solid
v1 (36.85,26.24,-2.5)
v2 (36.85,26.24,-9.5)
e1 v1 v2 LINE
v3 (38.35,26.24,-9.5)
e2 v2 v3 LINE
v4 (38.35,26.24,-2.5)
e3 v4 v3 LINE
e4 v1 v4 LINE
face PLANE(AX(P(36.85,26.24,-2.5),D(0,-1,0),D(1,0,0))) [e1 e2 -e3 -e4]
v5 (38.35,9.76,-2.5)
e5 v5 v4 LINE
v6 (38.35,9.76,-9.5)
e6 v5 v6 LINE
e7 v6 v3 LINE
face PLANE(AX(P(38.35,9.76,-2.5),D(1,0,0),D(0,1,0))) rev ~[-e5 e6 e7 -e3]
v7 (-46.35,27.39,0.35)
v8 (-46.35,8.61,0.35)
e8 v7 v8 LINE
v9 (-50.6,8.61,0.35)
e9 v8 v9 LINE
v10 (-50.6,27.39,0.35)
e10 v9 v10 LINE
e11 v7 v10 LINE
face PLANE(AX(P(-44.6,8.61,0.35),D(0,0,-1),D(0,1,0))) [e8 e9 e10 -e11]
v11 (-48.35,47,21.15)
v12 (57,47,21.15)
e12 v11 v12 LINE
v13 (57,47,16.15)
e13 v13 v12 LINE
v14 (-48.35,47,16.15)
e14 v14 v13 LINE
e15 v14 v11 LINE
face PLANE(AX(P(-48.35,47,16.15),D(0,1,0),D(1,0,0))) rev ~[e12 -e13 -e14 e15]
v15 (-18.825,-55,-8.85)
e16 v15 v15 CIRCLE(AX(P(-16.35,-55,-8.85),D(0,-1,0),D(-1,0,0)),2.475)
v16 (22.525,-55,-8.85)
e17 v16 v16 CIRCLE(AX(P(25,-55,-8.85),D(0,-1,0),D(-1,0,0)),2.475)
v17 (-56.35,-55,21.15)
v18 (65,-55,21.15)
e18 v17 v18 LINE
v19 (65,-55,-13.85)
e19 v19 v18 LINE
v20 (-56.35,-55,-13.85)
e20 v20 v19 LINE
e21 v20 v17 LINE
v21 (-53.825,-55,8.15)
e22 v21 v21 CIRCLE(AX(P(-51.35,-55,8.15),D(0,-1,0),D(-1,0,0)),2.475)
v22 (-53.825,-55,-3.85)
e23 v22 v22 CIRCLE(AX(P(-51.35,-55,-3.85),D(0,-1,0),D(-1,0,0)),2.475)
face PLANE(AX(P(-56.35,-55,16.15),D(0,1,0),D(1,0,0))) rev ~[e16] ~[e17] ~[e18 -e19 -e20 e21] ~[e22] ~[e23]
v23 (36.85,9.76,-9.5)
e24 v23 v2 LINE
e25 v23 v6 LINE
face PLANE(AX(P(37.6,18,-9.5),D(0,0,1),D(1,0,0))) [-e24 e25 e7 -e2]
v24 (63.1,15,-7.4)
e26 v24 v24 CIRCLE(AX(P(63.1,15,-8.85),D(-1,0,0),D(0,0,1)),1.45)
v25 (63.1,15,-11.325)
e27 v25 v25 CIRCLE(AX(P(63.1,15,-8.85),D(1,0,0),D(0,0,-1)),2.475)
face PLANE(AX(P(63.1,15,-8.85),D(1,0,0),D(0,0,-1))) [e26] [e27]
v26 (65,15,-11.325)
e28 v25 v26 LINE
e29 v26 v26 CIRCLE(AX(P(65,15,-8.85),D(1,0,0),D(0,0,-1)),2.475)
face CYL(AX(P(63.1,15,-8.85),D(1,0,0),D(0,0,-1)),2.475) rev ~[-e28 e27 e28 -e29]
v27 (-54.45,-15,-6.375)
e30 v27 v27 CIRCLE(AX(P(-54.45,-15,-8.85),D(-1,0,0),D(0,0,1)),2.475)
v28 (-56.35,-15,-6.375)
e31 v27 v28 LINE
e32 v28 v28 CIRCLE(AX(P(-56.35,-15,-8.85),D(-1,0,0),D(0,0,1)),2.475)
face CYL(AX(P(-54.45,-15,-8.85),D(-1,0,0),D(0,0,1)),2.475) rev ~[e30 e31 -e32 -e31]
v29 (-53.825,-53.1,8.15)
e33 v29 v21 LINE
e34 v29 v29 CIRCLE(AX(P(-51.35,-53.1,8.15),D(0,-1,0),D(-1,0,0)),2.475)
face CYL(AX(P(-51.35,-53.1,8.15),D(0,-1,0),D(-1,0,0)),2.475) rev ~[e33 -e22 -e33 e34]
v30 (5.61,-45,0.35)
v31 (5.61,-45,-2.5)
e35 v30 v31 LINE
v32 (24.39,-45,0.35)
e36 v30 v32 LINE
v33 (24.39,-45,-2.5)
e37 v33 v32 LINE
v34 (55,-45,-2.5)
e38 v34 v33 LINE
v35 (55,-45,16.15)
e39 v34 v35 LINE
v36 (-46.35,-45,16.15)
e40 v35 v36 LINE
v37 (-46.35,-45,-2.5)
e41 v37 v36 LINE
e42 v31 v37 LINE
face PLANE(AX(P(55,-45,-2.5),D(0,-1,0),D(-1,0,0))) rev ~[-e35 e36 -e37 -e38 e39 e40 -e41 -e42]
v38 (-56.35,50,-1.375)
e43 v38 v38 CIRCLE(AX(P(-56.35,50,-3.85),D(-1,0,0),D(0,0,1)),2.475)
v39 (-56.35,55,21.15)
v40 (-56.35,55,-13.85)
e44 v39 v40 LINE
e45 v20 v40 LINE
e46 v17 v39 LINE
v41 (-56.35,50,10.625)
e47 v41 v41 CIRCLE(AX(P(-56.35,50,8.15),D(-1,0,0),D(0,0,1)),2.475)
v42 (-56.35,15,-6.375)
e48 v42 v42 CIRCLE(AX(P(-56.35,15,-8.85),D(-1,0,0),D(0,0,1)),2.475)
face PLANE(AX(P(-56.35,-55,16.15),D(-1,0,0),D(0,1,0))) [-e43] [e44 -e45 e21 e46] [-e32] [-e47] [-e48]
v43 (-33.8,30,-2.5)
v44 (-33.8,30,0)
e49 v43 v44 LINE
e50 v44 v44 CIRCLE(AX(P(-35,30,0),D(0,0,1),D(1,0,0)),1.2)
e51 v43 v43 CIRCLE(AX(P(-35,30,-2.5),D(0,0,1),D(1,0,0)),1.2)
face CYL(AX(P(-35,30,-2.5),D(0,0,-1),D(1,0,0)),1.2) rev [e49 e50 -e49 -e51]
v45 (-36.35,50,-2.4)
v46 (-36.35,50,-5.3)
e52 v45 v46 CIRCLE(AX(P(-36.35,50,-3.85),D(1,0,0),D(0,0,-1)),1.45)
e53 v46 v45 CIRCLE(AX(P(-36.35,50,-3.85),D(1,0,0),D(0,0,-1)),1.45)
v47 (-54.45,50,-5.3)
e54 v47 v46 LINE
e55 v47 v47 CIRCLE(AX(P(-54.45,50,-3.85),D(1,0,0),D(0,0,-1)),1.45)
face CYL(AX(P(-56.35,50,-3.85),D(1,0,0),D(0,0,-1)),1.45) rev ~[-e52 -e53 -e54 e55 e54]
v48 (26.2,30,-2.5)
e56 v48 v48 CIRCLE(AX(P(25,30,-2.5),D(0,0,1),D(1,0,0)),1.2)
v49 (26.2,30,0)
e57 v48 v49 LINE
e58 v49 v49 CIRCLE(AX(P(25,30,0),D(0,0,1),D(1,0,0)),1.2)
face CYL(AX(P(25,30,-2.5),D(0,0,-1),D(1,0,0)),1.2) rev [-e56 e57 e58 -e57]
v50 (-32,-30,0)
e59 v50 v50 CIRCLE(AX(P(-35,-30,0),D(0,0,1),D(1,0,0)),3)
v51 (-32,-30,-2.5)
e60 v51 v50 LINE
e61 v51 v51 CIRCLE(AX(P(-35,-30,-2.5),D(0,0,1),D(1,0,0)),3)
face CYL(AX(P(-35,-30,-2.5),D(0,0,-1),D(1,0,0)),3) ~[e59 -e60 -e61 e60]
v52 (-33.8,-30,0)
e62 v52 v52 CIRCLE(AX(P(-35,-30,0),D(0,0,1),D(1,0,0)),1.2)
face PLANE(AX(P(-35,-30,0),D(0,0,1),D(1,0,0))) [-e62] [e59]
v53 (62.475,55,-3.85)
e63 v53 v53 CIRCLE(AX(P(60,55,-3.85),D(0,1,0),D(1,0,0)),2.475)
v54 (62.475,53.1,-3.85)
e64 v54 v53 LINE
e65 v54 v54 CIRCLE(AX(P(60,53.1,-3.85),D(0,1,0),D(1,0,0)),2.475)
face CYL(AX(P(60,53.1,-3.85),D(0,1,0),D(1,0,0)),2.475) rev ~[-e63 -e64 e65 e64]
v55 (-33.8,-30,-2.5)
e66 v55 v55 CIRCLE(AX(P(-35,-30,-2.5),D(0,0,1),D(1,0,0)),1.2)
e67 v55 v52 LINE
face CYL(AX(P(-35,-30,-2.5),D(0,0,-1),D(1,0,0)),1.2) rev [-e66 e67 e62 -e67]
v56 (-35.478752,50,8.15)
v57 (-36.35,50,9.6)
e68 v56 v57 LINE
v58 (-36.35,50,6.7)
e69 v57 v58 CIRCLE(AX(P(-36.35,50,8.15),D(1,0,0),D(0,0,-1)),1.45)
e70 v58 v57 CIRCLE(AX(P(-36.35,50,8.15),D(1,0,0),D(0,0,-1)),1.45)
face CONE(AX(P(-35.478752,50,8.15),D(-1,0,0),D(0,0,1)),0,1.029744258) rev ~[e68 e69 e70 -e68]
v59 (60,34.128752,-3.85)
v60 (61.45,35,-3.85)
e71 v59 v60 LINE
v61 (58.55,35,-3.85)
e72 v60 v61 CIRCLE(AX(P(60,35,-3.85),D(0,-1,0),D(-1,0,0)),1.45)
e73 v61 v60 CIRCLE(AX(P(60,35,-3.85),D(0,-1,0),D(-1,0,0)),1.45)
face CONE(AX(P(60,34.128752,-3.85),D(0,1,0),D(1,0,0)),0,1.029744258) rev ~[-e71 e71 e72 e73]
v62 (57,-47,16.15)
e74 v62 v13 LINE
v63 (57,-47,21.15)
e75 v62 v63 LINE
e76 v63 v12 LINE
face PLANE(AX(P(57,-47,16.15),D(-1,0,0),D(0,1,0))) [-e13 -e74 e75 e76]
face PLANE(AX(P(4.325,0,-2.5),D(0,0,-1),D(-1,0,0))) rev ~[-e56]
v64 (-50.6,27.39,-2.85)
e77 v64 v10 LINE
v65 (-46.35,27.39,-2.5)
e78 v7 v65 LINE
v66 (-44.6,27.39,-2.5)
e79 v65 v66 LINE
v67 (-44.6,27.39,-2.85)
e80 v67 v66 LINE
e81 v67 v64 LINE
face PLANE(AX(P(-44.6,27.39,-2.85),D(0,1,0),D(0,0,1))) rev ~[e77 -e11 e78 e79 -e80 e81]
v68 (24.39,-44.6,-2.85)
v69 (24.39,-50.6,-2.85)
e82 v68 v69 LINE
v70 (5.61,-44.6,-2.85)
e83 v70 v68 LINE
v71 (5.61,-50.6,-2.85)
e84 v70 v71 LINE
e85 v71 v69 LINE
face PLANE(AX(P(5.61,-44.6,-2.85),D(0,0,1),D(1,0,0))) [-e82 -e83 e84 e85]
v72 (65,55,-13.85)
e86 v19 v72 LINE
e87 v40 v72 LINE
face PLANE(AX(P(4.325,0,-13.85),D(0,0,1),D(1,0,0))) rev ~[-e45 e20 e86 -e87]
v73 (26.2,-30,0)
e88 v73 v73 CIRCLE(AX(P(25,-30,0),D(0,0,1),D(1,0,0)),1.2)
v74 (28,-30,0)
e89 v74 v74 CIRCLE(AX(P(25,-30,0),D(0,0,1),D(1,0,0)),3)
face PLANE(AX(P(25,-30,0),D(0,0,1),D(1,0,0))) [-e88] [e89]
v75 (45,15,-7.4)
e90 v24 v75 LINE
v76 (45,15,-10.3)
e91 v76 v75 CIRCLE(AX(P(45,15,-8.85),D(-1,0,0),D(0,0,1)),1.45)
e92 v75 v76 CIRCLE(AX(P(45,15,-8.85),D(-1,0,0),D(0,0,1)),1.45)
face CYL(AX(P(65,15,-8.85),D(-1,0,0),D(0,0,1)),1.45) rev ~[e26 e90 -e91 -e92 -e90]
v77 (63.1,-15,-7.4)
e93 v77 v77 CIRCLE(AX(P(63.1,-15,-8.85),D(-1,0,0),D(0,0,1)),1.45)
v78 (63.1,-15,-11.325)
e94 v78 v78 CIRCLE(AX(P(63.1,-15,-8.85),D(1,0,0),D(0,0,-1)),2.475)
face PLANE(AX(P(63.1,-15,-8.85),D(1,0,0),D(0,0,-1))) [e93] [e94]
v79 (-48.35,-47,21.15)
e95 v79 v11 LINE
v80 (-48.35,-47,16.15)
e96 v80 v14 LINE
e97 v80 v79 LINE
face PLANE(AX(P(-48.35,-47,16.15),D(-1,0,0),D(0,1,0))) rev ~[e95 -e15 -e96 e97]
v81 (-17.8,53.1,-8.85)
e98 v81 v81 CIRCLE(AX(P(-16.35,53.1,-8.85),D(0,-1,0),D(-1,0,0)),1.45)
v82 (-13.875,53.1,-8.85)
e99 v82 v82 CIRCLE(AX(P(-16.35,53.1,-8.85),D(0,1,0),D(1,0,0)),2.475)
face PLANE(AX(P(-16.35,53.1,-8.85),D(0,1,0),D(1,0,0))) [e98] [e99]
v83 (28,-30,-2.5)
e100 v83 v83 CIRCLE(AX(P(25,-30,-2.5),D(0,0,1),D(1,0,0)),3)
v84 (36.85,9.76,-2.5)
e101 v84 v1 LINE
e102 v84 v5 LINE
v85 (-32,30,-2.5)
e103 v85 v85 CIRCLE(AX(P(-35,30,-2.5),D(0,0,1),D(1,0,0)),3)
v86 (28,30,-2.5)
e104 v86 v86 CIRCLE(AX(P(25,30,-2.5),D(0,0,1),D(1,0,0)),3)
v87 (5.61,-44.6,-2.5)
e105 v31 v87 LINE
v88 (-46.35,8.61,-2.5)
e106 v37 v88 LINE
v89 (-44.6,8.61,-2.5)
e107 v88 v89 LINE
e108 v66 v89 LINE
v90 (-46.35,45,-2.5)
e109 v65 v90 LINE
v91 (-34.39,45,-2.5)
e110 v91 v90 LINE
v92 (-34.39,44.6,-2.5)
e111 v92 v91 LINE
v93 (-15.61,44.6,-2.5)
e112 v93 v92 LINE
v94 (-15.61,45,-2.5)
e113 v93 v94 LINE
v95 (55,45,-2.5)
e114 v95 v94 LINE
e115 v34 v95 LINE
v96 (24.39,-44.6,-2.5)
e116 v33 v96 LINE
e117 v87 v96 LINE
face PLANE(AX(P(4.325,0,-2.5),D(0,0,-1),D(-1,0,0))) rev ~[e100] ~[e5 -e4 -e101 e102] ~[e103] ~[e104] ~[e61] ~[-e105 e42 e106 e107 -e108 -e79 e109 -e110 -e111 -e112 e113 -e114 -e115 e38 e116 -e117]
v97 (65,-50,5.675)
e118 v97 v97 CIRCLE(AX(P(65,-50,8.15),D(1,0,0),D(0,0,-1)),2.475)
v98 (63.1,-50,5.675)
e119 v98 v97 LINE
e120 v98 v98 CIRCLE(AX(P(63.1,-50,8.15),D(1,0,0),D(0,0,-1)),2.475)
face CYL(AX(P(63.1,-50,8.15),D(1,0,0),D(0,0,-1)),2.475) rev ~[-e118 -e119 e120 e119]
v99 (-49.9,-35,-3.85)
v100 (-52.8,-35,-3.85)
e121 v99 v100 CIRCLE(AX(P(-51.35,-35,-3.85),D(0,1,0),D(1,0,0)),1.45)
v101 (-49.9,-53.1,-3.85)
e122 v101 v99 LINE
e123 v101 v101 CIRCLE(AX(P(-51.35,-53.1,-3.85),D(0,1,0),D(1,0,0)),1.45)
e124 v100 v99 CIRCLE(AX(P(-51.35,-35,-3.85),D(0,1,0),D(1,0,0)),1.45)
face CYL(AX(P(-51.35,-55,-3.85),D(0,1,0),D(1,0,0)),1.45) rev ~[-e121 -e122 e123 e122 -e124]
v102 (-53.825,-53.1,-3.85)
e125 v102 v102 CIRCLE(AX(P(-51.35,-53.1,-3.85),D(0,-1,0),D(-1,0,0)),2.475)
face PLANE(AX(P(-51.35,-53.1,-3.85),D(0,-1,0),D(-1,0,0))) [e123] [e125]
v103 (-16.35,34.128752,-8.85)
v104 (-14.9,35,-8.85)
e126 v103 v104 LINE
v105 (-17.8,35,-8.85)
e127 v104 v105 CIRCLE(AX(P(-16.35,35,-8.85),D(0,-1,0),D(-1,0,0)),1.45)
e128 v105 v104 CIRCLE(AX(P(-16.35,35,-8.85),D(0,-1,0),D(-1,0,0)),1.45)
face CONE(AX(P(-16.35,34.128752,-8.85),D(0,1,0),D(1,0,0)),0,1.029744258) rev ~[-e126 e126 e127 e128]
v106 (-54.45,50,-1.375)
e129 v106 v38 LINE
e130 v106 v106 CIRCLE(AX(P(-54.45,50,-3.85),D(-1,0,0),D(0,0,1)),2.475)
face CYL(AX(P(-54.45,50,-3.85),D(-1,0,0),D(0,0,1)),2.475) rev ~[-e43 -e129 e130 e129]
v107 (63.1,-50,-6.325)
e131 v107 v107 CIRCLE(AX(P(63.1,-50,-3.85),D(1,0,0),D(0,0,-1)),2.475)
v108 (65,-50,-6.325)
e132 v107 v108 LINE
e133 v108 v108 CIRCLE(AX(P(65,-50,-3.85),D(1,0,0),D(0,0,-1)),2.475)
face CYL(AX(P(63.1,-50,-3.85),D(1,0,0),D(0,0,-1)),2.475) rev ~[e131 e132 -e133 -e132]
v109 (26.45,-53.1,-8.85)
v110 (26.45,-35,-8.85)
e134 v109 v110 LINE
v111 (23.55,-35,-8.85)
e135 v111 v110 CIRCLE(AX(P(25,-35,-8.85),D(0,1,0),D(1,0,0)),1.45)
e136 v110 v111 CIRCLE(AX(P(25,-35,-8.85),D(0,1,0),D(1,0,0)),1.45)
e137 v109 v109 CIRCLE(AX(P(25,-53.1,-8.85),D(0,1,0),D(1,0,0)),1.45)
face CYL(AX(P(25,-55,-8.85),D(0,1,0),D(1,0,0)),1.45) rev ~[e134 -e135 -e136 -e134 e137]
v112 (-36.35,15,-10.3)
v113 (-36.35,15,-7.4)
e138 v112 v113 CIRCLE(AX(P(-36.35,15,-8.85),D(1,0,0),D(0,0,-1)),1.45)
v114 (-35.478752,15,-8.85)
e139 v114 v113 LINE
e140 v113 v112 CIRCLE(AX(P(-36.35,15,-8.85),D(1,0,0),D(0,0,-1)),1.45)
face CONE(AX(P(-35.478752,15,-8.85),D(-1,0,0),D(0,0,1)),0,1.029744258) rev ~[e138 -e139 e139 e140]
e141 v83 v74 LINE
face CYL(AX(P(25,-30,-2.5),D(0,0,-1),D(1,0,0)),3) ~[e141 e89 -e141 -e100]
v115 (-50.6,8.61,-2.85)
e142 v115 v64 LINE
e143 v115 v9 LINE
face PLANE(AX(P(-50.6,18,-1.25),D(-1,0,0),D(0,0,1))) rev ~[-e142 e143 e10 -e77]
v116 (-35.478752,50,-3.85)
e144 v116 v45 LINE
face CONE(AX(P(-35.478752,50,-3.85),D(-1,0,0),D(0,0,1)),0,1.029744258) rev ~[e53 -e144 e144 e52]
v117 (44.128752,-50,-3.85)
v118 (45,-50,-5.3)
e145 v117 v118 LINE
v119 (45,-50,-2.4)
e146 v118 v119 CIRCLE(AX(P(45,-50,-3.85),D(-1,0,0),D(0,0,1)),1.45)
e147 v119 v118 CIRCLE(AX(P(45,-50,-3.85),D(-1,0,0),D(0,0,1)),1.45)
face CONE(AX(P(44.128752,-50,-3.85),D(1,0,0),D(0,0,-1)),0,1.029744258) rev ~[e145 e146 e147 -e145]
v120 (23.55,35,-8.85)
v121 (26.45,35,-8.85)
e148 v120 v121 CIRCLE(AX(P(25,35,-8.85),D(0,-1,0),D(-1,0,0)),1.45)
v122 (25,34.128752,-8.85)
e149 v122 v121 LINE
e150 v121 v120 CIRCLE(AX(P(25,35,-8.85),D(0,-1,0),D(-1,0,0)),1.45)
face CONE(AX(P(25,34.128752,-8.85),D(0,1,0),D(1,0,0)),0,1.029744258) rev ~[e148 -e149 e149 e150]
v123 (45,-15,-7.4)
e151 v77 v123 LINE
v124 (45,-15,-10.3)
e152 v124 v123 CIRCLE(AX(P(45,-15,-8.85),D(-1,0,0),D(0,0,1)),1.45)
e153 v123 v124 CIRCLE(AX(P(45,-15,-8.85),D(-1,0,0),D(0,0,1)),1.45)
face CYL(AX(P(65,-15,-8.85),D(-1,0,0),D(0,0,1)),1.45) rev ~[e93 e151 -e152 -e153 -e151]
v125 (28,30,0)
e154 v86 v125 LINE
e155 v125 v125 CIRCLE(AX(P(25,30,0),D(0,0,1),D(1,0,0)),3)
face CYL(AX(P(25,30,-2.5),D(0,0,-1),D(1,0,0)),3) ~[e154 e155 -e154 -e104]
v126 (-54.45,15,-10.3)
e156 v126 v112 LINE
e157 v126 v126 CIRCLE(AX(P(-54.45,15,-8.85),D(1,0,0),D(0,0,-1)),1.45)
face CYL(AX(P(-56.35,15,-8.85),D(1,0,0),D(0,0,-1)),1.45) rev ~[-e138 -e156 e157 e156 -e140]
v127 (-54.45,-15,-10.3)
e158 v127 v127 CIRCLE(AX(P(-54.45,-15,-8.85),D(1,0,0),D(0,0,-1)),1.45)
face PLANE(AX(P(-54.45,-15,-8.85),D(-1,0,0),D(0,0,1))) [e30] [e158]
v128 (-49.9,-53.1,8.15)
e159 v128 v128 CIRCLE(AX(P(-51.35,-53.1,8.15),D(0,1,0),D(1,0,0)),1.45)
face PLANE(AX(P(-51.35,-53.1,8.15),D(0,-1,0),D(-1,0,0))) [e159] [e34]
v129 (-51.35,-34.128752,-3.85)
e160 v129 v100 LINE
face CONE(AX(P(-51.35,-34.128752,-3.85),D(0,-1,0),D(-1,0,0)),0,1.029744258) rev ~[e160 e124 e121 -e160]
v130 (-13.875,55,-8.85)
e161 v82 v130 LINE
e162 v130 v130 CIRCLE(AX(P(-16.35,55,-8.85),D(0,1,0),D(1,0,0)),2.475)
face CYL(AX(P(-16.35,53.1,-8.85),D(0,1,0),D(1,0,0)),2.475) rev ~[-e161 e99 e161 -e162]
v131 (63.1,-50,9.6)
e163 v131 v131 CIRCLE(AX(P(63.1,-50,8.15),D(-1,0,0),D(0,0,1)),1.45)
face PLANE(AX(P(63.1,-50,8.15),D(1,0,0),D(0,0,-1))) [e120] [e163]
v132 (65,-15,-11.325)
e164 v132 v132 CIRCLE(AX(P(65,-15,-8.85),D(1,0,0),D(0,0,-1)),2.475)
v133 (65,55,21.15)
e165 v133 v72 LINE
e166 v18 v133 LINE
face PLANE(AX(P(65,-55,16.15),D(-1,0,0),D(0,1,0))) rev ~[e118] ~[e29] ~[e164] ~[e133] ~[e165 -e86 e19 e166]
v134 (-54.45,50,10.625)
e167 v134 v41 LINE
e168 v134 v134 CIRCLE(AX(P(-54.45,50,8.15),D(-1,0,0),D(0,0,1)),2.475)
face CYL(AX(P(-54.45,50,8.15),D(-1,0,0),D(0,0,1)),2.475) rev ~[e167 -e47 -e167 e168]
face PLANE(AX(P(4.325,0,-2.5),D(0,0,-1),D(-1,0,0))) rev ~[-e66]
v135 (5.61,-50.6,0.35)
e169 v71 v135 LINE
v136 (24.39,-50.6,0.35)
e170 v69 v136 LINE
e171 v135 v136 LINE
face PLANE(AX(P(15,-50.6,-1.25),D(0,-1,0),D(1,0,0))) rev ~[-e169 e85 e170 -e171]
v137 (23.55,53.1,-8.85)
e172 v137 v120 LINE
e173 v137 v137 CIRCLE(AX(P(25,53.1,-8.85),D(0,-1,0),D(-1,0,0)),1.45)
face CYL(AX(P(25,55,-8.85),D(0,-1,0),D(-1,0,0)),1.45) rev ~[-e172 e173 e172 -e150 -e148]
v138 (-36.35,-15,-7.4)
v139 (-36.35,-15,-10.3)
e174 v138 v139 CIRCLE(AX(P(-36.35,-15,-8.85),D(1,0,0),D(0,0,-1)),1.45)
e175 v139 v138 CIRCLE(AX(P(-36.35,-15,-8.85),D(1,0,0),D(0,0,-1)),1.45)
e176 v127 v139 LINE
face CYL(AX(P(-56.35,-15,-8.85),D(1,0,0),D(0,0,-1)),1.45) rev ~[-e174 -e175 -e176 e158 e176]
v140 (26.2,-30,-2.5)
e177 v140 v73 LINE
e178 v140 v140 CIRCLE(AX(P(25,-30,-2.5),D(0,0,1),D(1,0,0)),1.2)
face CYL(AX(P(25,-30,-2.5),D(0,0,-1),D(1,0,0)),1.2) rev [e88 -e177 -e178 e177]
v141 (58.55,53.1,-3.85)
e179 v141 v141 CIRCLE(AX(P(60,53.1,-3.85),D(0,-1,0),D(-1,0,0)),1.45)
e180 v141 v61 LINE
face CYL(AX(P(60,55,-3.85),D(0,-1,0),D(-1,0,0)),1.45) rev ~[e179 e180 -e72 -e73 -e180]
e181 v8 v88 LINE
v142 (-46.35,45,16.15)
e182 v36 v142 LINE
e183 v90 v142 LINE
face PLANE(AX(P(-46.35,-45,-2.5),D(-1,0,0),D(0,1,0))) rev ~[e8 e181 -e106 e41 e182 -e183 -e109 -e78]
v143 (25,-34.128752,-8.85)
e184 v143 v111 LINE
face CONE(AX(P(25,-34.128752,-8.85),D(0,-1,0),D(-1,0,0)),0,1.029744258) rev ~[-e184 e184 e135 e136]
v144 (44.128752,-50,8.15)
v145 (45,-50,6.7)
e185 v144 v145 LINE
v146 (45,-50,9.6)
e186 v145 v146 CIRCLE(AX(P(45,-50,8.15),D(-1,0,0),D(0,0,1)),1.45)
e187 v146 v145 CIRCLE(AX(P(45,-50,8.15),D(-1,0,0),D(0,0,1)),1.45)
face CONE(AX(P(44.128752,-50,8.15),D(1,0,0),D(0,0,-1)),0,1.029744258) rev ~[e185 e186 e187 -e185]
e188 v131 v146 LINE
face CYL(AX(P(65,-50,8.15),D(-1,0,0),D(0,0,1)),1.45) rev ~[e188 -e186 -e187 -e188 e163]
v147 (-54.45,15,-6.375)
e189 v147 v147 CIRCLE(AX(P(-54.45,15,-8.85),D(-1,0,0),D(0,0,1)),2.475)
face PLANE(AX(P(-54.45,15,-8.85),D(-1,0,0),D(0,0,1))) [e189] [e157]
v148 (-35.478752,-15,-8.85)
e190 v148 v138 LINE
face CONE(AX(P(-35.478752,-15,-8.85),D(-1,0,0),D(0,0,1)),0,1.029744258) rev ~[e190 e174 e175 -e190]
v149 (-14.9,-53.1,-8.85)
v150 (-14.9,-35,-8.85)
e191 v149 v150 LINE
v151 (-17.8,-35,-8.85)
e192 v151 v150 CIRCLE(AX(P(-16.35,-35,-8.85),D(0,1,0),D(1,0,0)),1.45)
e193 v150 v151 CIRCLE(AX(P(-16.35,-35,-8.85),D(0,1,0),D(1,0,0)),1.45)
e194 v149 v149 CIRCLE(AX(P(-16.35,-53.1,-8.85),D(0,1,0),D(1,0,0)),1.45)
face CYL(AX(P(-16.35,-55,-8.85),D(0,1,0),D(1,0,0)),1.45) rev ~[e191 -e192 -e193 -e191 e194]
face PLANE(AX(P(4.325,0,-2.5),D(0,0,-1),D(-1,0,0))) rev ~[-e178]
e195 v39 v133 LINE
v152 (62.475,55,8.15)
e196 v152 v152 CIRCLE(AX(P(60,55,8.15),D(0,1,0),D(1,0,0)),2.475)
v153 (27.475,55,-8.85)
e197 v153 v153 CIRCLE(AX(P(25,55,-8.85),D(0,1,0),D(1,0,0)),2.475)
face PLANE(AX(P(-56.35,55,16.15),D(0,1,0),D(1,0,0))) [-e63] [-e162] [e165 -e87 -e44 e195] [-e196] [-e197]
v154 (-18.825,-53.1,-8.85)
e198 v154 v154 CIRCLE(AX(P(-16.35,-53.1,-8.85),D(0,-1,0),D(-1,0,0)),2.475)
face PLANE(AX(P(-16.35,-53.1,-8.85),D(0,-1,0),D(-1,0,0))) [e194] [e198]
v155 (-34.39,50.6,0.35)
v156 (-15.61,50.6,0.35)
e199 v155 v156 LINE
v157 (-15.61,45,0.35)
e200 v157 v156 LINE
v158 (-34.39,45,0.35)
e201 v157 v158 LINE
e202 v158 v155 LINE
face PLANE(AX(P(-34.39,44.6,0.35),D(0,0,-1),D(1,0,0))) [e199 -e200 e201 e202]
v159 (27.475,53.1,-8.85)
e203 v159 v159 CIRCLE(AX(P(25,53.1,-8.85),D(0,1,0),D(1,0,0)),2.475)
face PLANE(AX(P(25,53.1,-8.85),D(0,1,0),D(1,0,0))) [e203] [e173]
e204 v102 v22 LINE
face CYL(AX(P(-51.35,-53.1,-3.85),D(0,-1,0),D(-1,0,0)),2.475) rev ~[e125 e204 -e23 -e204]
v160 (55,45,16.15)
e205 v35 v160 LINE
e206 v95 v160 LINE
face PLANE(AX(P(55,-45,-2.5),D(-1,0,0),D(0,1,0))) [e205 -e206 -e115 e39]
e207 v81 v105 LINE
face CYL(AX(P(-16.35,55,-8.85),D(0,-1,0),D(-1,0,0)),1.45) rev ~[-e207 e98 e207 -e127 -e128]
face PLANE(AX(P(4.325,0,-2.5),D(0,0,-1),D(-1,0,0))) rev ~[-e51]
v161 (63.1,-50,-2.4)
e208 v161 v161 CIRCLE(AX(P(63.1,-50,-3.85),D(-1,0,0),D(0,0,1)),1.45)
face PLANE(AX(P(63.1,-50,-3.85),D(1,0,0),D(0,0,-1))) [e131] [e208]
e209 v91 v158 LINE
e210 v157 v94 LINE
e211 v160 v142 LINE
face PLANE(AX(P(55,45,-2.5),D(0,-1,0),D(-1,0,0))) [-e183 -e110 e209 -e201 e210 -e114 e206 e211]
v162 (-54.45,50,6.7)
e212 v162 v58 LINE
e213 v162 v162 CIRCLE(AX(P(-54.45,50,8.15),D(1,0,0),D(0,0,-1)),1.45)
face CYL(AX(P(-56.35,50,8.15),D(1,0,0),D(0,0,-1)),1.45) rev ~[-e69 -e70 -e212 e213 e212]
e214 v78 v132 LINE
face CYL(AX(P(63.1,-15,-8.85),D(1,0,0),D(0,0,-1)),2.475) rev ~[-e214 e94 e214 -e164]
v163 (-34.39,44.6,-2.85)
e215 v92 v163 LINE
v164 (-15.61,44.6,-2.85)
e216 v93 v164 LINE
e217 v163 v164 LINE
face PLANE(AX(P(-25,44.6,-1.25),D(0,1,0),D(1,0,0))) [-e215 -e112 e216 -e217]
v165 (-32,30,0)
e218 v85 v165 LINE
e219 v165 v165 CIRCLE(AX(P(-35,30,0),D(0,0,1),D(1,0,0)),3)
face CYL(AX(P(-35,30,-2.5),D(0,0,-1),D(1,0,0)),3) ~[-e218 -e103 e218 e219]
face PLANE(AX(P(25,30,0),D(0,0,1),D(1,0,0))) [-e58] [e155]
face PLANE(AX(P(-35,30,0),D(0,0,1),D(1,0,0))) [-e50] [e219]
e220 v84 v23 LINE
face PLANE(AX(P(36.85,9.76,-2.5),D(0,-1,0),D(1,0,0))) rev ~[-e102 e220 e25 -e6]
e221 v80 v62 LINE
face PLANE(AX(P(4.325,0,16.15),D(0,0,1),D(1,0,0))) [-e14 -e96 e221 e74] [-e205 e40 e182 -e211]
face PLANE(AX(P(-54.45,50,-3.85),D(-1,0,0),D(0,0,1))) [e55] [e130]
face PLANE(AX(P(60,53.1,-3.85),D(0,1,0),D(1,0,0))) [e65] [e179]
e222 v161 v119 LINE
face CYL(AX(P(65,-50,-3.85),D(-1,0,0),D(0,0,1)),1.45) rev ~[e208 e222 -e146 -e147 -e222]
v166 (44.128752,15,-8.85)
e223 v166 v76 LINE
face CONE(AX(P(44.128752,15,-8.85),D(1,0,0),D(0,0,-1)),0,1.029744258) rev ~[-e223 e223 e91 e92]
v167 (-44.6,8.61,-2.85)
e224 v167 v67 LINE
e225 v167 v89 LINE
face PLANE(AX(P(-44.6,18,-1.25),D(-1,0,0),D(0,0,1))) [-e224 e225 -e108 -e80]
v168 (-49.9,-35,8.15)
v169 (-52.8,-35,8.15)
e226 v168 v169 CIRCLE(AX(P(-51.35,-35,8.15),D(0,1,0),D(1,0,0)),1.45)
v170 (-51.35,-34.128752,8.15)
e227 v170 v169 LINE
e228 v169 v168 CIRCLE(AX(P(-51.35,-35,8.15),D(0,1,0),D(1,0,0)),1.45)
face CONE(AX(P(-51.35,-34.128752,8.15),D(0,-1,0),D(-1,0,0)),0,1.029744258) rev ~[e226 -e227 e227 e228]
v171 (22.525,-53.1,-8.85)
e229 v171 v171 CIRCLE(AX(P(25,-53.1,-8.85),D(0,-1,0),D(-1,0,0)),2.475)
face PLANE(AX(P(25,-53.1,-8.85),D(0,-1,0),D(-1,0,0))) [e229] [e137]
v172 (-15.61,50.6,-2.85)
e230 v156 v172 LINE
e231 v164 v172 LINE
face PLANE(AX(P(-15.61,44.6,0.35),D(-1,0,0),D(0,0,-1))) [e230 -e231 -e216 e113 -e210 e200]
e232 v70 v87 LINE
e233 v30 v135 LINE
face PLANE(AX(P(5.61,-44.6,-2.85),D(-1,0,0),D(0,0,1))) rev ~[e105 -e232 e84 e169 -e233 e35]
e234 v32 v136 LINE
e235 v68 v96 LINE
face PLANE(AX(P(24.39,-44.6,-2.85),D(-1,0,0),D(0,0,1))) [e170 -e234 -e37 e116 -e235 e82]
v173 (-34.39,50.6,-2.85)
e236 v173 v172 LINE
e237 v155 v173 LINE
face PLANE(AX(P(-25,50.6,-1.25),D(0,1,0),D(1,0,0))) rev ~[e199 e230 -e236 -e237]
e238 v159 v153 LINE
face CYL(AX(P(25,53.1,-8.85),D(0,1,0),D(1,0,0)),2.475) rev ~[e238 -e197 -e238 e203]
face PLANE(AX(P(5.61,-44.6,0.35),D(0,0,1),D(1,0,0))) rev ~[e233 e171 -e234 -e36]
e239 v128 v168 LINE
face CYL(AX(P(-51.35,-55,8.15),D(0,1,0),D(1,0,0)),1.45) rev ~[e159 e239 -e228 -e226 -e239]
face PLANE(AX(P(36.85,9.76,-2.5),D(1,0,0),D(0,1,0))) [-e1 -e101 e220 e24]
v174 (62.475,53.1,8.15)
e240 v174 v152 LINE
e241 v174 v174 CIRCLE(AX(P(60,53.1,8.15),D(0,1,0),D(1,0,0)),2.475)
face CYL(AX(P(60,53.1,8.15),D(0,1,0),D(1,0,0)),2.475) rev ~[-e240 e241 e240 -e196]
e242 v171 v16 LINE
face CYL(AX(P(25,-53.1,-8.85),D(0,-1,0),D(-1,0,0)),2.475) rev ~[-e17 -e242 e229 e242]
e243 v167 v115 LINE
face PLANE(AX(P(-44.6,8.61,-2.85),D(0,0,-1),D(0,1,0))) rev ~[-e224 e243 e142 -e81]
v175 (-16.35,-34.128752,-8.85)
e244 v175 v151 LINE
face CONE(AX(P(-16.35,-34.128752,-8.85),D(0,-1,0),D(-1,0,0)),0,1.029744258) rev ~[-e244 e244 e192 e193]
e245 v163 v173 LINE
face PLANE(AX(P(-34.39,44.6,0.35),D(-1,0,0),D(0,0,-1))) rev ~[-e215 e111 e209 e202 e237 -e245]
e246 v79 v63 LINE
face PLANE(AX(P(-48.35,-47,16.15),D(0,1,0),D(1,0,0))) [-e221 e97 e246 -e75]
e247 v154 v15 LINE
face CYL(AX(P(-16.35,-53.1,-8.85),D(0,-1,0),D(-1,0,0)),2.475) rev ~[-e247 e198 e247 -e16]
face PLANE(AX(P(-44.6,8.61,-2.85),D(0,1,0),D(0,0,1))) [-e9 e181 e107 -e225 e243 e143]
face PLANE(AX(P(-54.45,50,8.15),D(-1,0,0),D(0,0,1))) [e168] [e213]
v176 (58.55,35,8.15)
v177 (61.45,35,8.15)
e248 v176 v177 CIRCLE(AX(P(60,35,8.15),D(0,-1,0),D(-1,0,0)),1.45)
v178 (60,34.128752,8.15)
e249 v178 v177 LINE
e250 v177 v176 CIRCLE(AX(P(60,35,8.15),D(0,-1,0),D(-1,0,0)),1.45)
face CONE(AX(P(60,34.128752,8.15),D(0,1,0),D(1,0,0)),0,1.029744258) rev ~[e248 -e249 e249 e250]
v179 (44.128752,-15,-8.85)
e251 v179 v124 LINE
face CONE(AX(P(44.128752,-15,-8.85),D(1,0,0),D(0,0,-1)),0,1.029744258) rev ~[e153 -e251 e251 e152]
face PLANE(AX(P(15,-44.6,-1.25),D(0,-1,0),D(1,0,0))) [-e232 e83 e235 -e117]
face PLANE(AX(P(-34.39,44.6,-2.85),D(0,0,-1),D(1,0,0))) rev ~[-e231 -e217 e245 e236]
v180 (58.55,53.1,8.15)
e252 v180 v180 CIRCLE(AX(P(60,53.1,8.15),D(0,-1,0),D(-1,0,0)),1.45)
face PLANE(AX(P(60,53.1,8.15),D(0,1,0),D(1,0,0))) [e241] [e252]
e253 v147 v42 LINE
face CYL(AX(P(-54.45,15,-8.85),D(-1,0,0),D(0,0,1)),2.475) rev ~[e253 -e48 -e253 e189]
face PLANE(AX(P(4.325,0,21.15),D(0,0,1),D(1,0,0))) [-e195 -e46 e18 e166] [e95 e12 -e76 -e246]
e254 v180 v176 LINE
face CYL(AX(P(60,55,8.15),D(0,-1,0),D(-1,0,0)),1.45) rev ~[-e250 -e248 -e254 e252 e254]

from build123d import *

# Parameters (mm, degrees)
SKETCH_1_W                     = 90
SKETCH_1_H                     = 90
EXTRUDE_1_DEPTH                = 1.6
SKETCH_4_W                     = 17.78
SKETCH_4_H                     = 8.5
SKETCH_4_W_2                   = 2.5
SKETCH_4_H_2                   = 17.78
SKETCH_4_W_3                   = 8.5
EXTRUDE_2_DEPTH                = 2.5
SKETCH_5_W                     = 0.64
SKETCH_5_H                     = 0.64
EXTRUDE_3_DEPTH                = 6.1
SKETCH_6_W                     = 3.48
SKETCH_6_H                     = 3.48
EXTRUDE_4_DEPTH                = 2
SKETCH_7_W                     = 2
SKETCH_7_H                     = 4
SKETCH_7_W_2                   = 4
SKETCH_7_H_2                   = 2
EXTRUDE_5_DEPTH                = 1.1
SKETCH_8_W                     = 7.4
SKETCH_8_H                     = 15.2
EXTRUDE_6_DEPTH                = 2.65
SKETCH_9_W                     = 0.64
SKETCH_9_H                     = 0.64
CUT_EXTRUDE_1_DEPTH            = 7.5
SKETCH_10_W                    = 0.64
SKETCH_10_H                    = 0.64
CUT_EXTRUDE_2_DEPTH            = 7.5
SKETCH_11_W                    = 0.64
SKETCH_11_H                    = 0.64
CUT_EXTRUDE_3_DEPTH            = 7.5
SKETCH_37_W                    = 18.78
SKETCH_37_H                    = 3.2
EXTRUDE_13_DEPTH               = 6
SKETCH_38_W                    = 3.2
SKETCH_38_H                    = 18.78
EXTRUDE_14_DEPTH               = 6
SKETCH_39_W                    = 18.78
SKETCH_39_H                    = 3.2
EXTRUDE_15_DEPTH               = 6
SKETCH_14_W                    = 101.35
SKETCH_14_H                    = 90
EXTRUDE_9_DEPTH                = 18.65
SKETCH_15_W                    = 121.35
SKETCH_15_H                    = 110
EXTRUDE_10_DEPTH               = 30
SKETCH_16_W                    = 1.5
SKETCH_16_H                    = 16.48
CUT_EXTRUDE_4_DEPTH            = 7
SKETCH_18_R                    = 3
SKETCH_18_R_2                  = 1.2
EXTRUDE_11_DEPTH               = 2.5
SKETCH_22_W                    = 121.35
SKETCH_22_H                    = 110
SKETCH_22_W_2                  = 105.35
SKETCH_22_H_2                  = 94
EXTRUDE_12_DEPTH               = 5
HOLE_WIZARD_M2_5_1_D           = 2.9
HOLE_WIZARD_M2_5_1_DEPTH       = 20
HOLE_WIZARD_M2_5_1_CBORE_D     = 4.95
HOLE_WIZARD_M2_5_1_CBORE_DEPTH = 1.9
HOLE_WIZARD_M2_5_1_TIP         = 0.871247898
HOLE_WIZARD_M2_5_2_D           = 2.9
HOLE_WIZARD_M2_5_2_DEPTH       = 20
HOLE_WIZARD_M2_5_2_CBORE_D     = 4.95
HOLE_WIZARD_M2_5_2_CBORE_DEPTH = 1.9
HOLE_WIZARD_M2_5_2_TIP         = 0.871247898
HOLE_WIZARD_M2_5_3_D           = 2.9
HOLE_WIZARD_M2_5_3_DEPTH       = 20
HOLE_WIZARD_M2_5_3_CBORE_D     = 4.95
HOLE_WIZARD_M2_5_3_CBORE_DEPTH = 1.9
HOLE_WIZARD_M2_5_3_TIP         = 0.871247898
HOLE_WIZARD_M2_5_4_D           = 2.9
HOLE_WIZARD_M2_5_4_DEPTH       = 20
HOLE_WIZARD_M2_5_4_CBORE_D     = 4.95
HOLE_WIZARD_M2_5_4_CBORE_DEPTH = 1.9
HOLE_WIZARD_M2_5_4_TIP         = 0.871247898
HOLE_WIZARD_M2_5_5_D           = 2.9
HOLE_WIZARD_M2_5_5_DEPTH       = 20
HOLE_WIZARD_M2_5_5_CBORE_D     = 4.95
HOLE_WIZARD_M2_5_5_CBORE_DEPTH = 1.9
HOLE_WIZARD_M2_5_5_TIP         = 0.871247898
HOLE_WIZARD_M2_5_6_D           = 2.9
HOLE_WIZARD_M2_5_6_DEPTH       = 20
HOLE_WIZARD_M2_5_6_CBORE_D     = 4.95
HOLE_WIZARD_M2_5_6_CBORE_DEPTH = 1.9
HOLE_WIZARD_M2_5_6_TIP         = 0.871247898
HOLE_WIZARD_M2_5_7_D           = 2.9
HOLE_WIZARD_M2_5_7_DEPTH       = 20
HOLE_WIZARD_M2_5_7_CBORE_D     = 4.95
HOLE_WIZARD_M2_5_7_CBORE_DEPTH = 1.9
HOLE_WIZARD_M2_5_7_TIP         = 0.871247898
HOLE_WIZARD_M2_5_8_D           = 2.9
HOLE_WIZARD_M2_5_8_DEPTH       = 20
HOLE_WIZARD_M2_5_8_CBORE_D     = 4.95
HOLE_WIZARD_M2_5_8_CBORE_DEPTH = 1.9
HOLE_WIZARD_M2_5_8_TIP         = 0.871247898


with BuildPart() as part:
    # ｽｹｯﾁ1 → ﾎﾞｽ - 押し出し1 (new body)
    with BuildSketch(Plane.XY):
        Rectangle(SKETCH_1_W, SKETCH_1_H)
    extrude(amount=EXTRUDE_1_DEPTH)

    # ｽｹｯﾁ4 → ﾎﾞｽ - 押し出し2 (add)
    with BuildSketch(Plane(origin=(0, 0, 0), x_dir=(-1, 0, 0), z_dir=(0, 0, -1))):
        with Locations((-15, -40.35)):
            Rectangle(SKETCH_4_W, SKETCH_4_H)
        with Locations((-37.6, 18)):
            Rectangle(SKETCH_4_W_2, SKETCH_4_H_2)
        with Locations((25, 40.35)):
            Rectangle(SKETCH_4_W, SKETCH_4_H)
        with Locations((40.35, 18)):
            Rectangle(SKETCH_4_W_3, SKETCH_4_H_2)
    extrude(amount=EXTRUDE_2_DEPTH)

    # ｽｹｯﾁ5 → ﾎﾞｽ - 押し出し3 (add)
    with BuildSketch(Plane(origin=(0, 0, -2.5), x_dir=(-1, 0, 0), z_dir=(0, 0, -1))):
        with Locations((-37.6, 18)):
            Rectangle(SKETCH_5_W, SKETCH_5_H)
        with Locations((-37.6, 15.46)):
            Rectangle(SKETCH_5_W, SKETCH_5_H)
        with Locations((-37.6, 12.92)):
            Rectangle(SKETCH_5_W, SKETCH_5_H)
        with Locations((-37.6, 10.38)):
            Rectangle(SKETCH_5_W, SKETCH_5_H)
        with Locations((-37.6, 20.54)):
            Rectangle(SKETCH_5_W, SKETCH_5_H)
        with Locations((-37.6, 23.08)):
            Rectangle(SKETCH_5_W, SKETCH_5_H)
        with Locations((-37.6, 25.62)):
            Rectangle(SKETCH_5_W, SKETCH_5_H)
    extrude(amount=EXTRUDE_3_DEPTH)

    # ｽｹｯﾁ6 → ﾎﾞｽ - 押し出し4 (add)
    with BuildSketch(Plane.XY.offset(1.6)):
        with Locations((-40, -35)):
            Rectangle(SKETCH_6_W, SKETCH_6_H)
        with Locations((-40, 35)):
            Rectangle(SKETCH_6_W, SKETCH_6_H)
        with Locations((30, -35)):
            Rectangle(SKETCH_6_W, SKETCH_6_H)
        with Locations((30, 35)):
            Rectangle(SKETCH_6_W, SKETCH_6_H)
    extrude(amount=EXTRUDE_4_DEPTH)

    # ｽｹｯﾁ7 → ﾎﾞｽ - 押し出し5 (add)
    with BuildSketch(Plane.XY.offset(1.6)):
        with Locations((-40, 0)):
            Rectangle(SKETCH_7_W, SKETCH_7_H)
        with Locations((30, 0)):
            Rectangle(SKETCH_7_W, SKETCH_7_H)
        with Locations((-5, 35)):
            Rectangle(SKETCH_7_W_2, SKETCH_7_H_2)
        with Locations((-5, -35)):
            Rectangle(SKETCH_7_W_2, SKETCH_7_H_2)
        with Locations((-5, 0)):
            Rectangle(SKETCH_7_W, SKETCH_7_H)
    extrude(amount=EXTRUDE_5_DEPTH)

    # ｽｹｯﾁ8 → ﾎﾞｽ - 押し出し6 (add)
    with BuildSketch(Plane.XY.offset(1.6)):
        with Locations((11, 0)):
            Rectangle(SKETCH_8_W, SKETCH_8_H)
    extrude(amount=EXTRUDE_6_DEPTH)

    # ｽｹｯﾁ9 → ｶｯﾄ - 押し出し1 (cut)
    with BuildSketch(Plane.XZ.offset(44.6)):
        with Locations((15, -1.25)):
            Rectangle(SKETCH_9_W, SKETCH_9_H)
        with Locations((12.46, -1.25)):
            Rectangle(SKETCH_9_W, SKETCH_9_H)
        with Locations((9.92, -1.25)):
            Rectangle(SKETCH_9_W, SKETCH_9_H)
        with Locations((7.38, -1.25)):
            Rectangle(SKETCH_9_W, SKETCH_9_H)
        with Locations((17.54, -1.25)):
            Rectangle(SKETCH_9_W, SKETCH_9_H)
        with Locations((20.08, -1.25)):
            Rectangle(SKETCH_9_W, SKETCH_9_H)
        with Locations((22.62, -1.25)):
            Rectangle(SKETCH_9_W, SKETCH_9_H)
    extrude(amount=-CUT_EXTRUDE_1_DEPTH, mode=Mode.SUBTRACT)

    # ｽｹｯﾁ10 → ｶｯﾄ - 押し出し2 (cut)
    with BuildSketch(Plane.ZY.offset(44.6)):
        with Locations((-1.25, 18)):
            Rectangle(SKETCH_10_W, SKETCH_10_H)
        with Locations((-1.25, 25.62)):
            Rectangle(SKETCH_10_W, SKETCH_10_H)
        with Locations((-1.25, 23.08)):
            Rectangle(SKETCH_10_W, SKETCH_10_H)
        with Locations((-1.25, 20.54)):
            Rectangle(SKETCH_10_W, SKETCH_10_H)
        with Locations((-1.25, 15.46)):
            Rectangle(SKETCH_10_W, SKETCH_10_H)
        with Locations((-1.25, 12.92)):
            Rectangle(SKETCH_10_W, SKETCH_10_H)
        with Locations((-1.25, 10.38)):
            Rectangle(SKETCH_10_W, SKETCH_10_H)
    extrude(amount=-CUT_EXTRUDE_2_DEPTH, mode=Mode.SUBTRACT)

    # ｽｹｯﾁ11 → ｶｯﾄ - 押し出し3 (cut)
    with BuildSketch(Plane(origin=(0, 44.6, 0), x_dir=(1, 0, 0), z_dir=(0, 1, 0))):
        with Locations((-25, 1.25)):
            Rectangle(SKETCH_11_W, SKETCH_11_H)
        with Locations((-32.62, 1.25)):
            Rectangle(SKETCH_11_W, SKETCH_11_H)
        with Locations((-30.08, 1.25)):
            Rectangle(SKETCH_11_W, SKETCH_11_H)
        with Locations((-27.54, 1.25)):
            Rectangle(SKETCH_11_W, SKETCH_11_H)
        with Locations((-22.46, 1.25)):
            Rectangle(SKETCH_11_W, SKETCH_11_H)
        with Locations((-19.92, 1.25)):
            Rectangle(SKETCH_11_W, SKETCH_11_H)
        with Locations((-17.38, 1.25)):
            Rectangle(SKETCH_11_W, SKETCH_11_H)
    extrude(amount=-CUT_EXTRUDE_3_DEPTH, mode=Mode.SUBTRACT)

    # ｽｹｯﾁ37 → ﾎﾞｽ - 押し出し13 (add)
    with BuildSketch(Plane(origin=(0, 44.6, 0), x_dir=(1, 0, 0), z_dir=(0, 1, 0))):
        with Locations((-25, 1.25)):
            Rectangle(SKETCH_37_W, SKETCH_37_H)
    extrude(amount=EXTRUDE_13_DEPTH)

    # ｽｹｯﾁ38 → ﾎﾞｽ - 押し出し14 (add)
    with BuildSketch(Plane.ZY.offset(44.6)):
        with Locations((-1.25, 18)):
            Rectangle(SKETCH_38_W, SKETCH_38_H)
    extrude(amount=EXTRUDE_14_DEPTH)

    # ｽｹｯﾁ39 → ﾎﾞｽ - 押し出し15 (add)
    with BuildSketch(Plane.XZ.offset(44.6)):
        with Locations((15, -1.25)):
            Rectangle(SKETCH_39_W, SKETCH_39_H)
    extrude(amount=EXTRUDE_15_DEPTH)


with BuildPart() as body_2:
    # ｽｹｯﾁ14 → ﾎﾞｽ - 押し出し9 (new body)
    with BuildSketch(Plane(origin=(0, 0, -2.5), x_dir=(-1, 0, 0), z_dir=(0, 0, -1))):
        with Locations((-4.325, 0)):
            Rectangle(SKETCH_14_W, SKETCH_14_H)
    extrude(amount=-EXTRUDE_9_DEPTH)


with BuildPart() as body_3:
    # ｽｹｯﾁ15 → ﾎﾞｽ - 押し出し10 (new body)
    with BuildSketch(Plane.XY.offset(16.15)):
        with Locations((4.325, 0)):
            Rectangle(SKETCH_15_W, SKETCH_15_H)
    extrude(amount=-EXTRUDE_10_DEPTH)

    # Combine 1: cut body 2, part
    add(body_2.part, mode=Mode.SUBTRACT)
    add(part.part, mode=Mode.SUBTRACT)

    # ｽｹｯﾁ16 → ｶｯﾄ - 押し出し4 (cut)
    with BuildSketch(Plane.XY.offset(-2.5)):
        with Locations((37.6, 18)):
            Rectangle(SKETCH_16_W, SKETCH_16_H)
    extrude(amount=-CUT_EXTRUDE_4_DEPTH, mode=Mode.SUBTRACT)

    # ｽｹｯﾁ18 → ﾎﾞｽ - 押し出し11 (add)
    # profile 1 of 4: a face of its own
    with BuildSketch(Plane.XY.offset(-2.5)):
        with Locations((-35, -30)):
            Circle(SKETCH_18_R)
        with Locations((-35, -30)):
            Circle(SKETCH_18_R_2, mode=Mode.SUBTRACT)
    # profile 2 of 4: a face of its own
    with BuildSketch(Plane.XY.offset(-2.5)):
        with Locations((-35, 30)):
            Circle(SKETCH_18_R)
        with Locations((-35, 30)):
            Circle(SKETCH_18_R_2, mode=Mode.SUBTRACT)
    # profile 3 of 4: a face of its own
    with BuildSketch(Plane.XY.offset(-2.5)):
        with Locations((25, 30)):
            Circle(SKETCH_18_R)
        with Locations((25, 30)):
            Circle(SKETCH_18_R_2, mode=Mode.SUBTRACT)
    # profile 4 of 4: a face of its own
    with BuildSketch(Plane.XY.offset(-2.5)):
        with Locations((25, -30)):
            Circle(SKETCH_18_R)
        with Locations((25, -30)):
            Circle(SKETCH_18_R_2, mode=Mode.SUBTRACT)
    extrude(amount=EXTRUDE_11_DEPTH)

    # ｽｹｯﾁ22 → ﾎﾞｽ - 押し出し12 (add)
    with BuildSketch(Plane.XY.offset(16.15)):
        with Locations((4.325, 0)):
            Rectangle(SKETCH_22_W, SKETCH_22_H)
        with Locations((4.325, 0)):
            Rectangle(SKETCH_22_W_2, SKETCH_22_H_2, mode=Mode.SUBTRACT)
    extrude(amount=EXTRUDE_12_DEPTH)

    # M2.5 丸平ねじ用座ぐり穴1
    with Locations(Plane(origin=(0, -55, 0), x_dir=(-1, 0, 0), z_dir=(0, -1, 0))):
        with Locations((51.35, -8.15), (51.35, 3.85)):
            CounterBoreHole(HOLE_WIZARD_M2_5_1_D / 2, HOLE_WIZARD_M2_5_1_CBORE_D / 2, HOLE_WIZARD_M2_5_1_CBORE_DEPTH, depth=HOLE_WIZARD_M2_5_1_DEPTH)
            with Locations((0, 0, -(HOLE_WIZARD_M2_5_1_DEPTH + HOLE_WIZARD_M2_5_1_TIP / 2))):  # 118° drill point
                Cone(0, HOLE_WIZARD_M2_5_1_D / 2, HOLE_WIZARD_M2_5_1_TIP, mode=Mode.SUBTRACT)

    # M2.5 丸平ねじ用座ぐり穴2
    with Locations(Plane.ZY.offset(56.35)):
        with Locations((8.15, 50), (-3.85, 50)):
            CounterBoreHole(HOLE_WIZARD_M2_5_2_D / 2, HOLE_WIZARD_M2_5_2_CBORE_D / 2, HOLE_WIZARD_M2_5_2_CBORE_DEPTH, depth=HOLE_WIZARD_M2_5_2_DEPTH)
            with Locations((0, 0, -(HOLE_WIZARD_M2_5_2_DEPTH + HOLE_WIZARD_M2_5_2_TIP / 2))):  # 118° drill point
                Cone(0, HOLE_WIZARD_M2_5_2_D / 2, HOLE_WIZARD_M2_5_2_TIP, mode=Mode.SUBTRACT)

    # M2.5 丸平ねじ用座ぐり穴3
    with Locations(Plane(origin=(0, 55, 0), x_dir=(1, 0, 0), z_dir=(0, 1, 0))):
        with Locations((60, -8.15), (60, 3.85)):
            CounterBoreHole(HOLE_WIZARD_M2_5_3_D / 2, HOLE_WIZARD_M2_5_3_CBORE_D / 2, HOLE_WIZARD_M2_5_3_CBORE_DEPTH, depth=HOLE_WIZARD_M2_5_3_DEPTH)
            with Locations((0, 0, -(HOLE_WIZARD_M2_5_3_DEPTH + HOLE_WIZARD_M2_5_3_TIP / 2))):  # 118° drill point
                Cone(0, HOLE_WIZARD_M2_5_3_D / 2, HOLE_WIZARD_M2_5_3_TIP, mode=Mode.SUBTRACT)

    # M2.5 丸平ねじ用座ぐり穴4
    with Locations(Plane(origin=(65, 0, 0), x_dir=(0, 0, -1), z_dir=(1, 0, 0))):
        with Locations((-8.15, -50), (3.85, -50)):
            CounterBoreHole(HOLE_WIZARD_M2_5_4_D / 2, HOLE_WIZARD_M2_5_4_CBORE_D / 2, HOLE_WIZARD_M2_5_4_CBORE_DEPTH, depth=HOLE_WIZARD_M2_5_4_DEPTH)
            with Locations((0, 0, -(HOLE_WIZARD_M2_5_4_DEPTH + HOLE_WIZARD_M2_5_4_TIP / 2))):  # 118° drill point
                Cone(0, HOLE_WIZARD_M2_5_4_D / 2, HOLE_WIZARD_M2_5_4_TIP, mode=Mode.SUBTRACT)

    # M2.5 丸平ねじ用座ぐり穴5
    with Locations(Plane(origin=(0, -55, 0), x_dir=(-1, 0, 0), z_dir=(0, -1, 0))):
        with Locations((-25, 8.85), (16.35, 8.85)):
            CounterBoreHole(HOLE_WIZARD_M2_5_5_D / 2, HOLE_WIZARD_M2_5_5_CBORE_D / 2, HOLE_WIZARD_M2_5_5_CBORE_DEPTH, depth=HOLE_WIZARD_M2_5_5_DEPTH)
            with Locations((0, 0, -(HOLE_WIZARD_M2_5_5_DEPTH + HOLE_WIZARD_M2_5_5_TIP / 2))):  # 118° drill point
                Cone(0, HOLE_WIZARD_M2_5_5_D / 2, HOLE_WIZARD_M2_5_5_TIP, mode=Mode.SUBTRACT)

    # M2.5 丸平ねじ用座ぐり穴6
    with Locations(Plane.ZY.offset(56.35)):
        with Locations((-8.85, 15), (-8.85, -15)):
            CounterBoreHole(HOLE_WIZARD_M2_5_6_D / 2, HOLE_WIZARD_M2_5_6_CBORE_D / 2, HOLE_WIZARD_M2_5_6_CBORE_DEPTH, depth=HOLE_WIZARD_M2_5_6_DEPTH)
            with Locations((0, 0, -(HOLE_WIZARD_M2_5_6_DEPTH + HOLE_WIZARD_M2_5_6_TIP / 2))):  # 118° drill point
                Cone(0, HOLE_WIZARD_M2_5_6_D / 2, HOLE_WIZARD_M2_5_6_TIP, mode=Mode.SUBTRACT)

    # M2.5 丸平ねじ用座ぐり穴7
    with Locations(Plane(origin=(0, 55, 0), x_dir=(1, 0, 0), z_dir=(0, 1, 0))):
        with Locations((-16.35, 8.85), (25, 8.85)):
            CounterBoreHole(HOLE_WIZARD_M2_5_7_D / 2, HOLE_WIZARD_M2_5_7_CBORE_D / 2, HOLE_WIZARD_M2_5_7_CBORE_DEPTH, depth=HOLE_WIZARD_M2_5_7_DEPTH)
            with Locations((0, 0, -(HOLE_WIZARD_M2_5_7_DEPTH + HOLE_WIZARD_M2_5_7_TIP / 2))):  # 118° drill point
                Cone(0, HOLE_WIZARD_M2_5_7_D / 2, HOLE_WIZARD_M2_5_7_TIP, mode=Mode.SUBTRACT)

    # M2.5 丸平ねじ用座ぐり穴8
    with Locations(Plane(origin=(65, 0, 0), x_dir=(0, 0, -1), z_dir=(1, 0, 0))):
        with Locations((8.85, 15), (8.85, -15)):
            CounterBoreHole(HOLE_WIZARD_M2_5_8_D / 2, HOLE_WIZARD_M2_5_8_CBORE_D / 2, HOLE_WIZARD_M2_5_8_CBORE_DEPTH, depth=HOLE_WIZARD_M2_5_8_DEPTH)
            with Locations((0, 0, -(HOLE_WIZARD_M2_5_8_DEPTH + HOLE_WIZARD_M2_5_8_TIP / 2))):  # 118° drill point
                Cone(0, HOLE_WIZARD_M2_5_8_D / 2, HOLE_WIZARD_M2_5_8_TIP, mode=Mode.SUBTRACT)


solid = body_3.part
